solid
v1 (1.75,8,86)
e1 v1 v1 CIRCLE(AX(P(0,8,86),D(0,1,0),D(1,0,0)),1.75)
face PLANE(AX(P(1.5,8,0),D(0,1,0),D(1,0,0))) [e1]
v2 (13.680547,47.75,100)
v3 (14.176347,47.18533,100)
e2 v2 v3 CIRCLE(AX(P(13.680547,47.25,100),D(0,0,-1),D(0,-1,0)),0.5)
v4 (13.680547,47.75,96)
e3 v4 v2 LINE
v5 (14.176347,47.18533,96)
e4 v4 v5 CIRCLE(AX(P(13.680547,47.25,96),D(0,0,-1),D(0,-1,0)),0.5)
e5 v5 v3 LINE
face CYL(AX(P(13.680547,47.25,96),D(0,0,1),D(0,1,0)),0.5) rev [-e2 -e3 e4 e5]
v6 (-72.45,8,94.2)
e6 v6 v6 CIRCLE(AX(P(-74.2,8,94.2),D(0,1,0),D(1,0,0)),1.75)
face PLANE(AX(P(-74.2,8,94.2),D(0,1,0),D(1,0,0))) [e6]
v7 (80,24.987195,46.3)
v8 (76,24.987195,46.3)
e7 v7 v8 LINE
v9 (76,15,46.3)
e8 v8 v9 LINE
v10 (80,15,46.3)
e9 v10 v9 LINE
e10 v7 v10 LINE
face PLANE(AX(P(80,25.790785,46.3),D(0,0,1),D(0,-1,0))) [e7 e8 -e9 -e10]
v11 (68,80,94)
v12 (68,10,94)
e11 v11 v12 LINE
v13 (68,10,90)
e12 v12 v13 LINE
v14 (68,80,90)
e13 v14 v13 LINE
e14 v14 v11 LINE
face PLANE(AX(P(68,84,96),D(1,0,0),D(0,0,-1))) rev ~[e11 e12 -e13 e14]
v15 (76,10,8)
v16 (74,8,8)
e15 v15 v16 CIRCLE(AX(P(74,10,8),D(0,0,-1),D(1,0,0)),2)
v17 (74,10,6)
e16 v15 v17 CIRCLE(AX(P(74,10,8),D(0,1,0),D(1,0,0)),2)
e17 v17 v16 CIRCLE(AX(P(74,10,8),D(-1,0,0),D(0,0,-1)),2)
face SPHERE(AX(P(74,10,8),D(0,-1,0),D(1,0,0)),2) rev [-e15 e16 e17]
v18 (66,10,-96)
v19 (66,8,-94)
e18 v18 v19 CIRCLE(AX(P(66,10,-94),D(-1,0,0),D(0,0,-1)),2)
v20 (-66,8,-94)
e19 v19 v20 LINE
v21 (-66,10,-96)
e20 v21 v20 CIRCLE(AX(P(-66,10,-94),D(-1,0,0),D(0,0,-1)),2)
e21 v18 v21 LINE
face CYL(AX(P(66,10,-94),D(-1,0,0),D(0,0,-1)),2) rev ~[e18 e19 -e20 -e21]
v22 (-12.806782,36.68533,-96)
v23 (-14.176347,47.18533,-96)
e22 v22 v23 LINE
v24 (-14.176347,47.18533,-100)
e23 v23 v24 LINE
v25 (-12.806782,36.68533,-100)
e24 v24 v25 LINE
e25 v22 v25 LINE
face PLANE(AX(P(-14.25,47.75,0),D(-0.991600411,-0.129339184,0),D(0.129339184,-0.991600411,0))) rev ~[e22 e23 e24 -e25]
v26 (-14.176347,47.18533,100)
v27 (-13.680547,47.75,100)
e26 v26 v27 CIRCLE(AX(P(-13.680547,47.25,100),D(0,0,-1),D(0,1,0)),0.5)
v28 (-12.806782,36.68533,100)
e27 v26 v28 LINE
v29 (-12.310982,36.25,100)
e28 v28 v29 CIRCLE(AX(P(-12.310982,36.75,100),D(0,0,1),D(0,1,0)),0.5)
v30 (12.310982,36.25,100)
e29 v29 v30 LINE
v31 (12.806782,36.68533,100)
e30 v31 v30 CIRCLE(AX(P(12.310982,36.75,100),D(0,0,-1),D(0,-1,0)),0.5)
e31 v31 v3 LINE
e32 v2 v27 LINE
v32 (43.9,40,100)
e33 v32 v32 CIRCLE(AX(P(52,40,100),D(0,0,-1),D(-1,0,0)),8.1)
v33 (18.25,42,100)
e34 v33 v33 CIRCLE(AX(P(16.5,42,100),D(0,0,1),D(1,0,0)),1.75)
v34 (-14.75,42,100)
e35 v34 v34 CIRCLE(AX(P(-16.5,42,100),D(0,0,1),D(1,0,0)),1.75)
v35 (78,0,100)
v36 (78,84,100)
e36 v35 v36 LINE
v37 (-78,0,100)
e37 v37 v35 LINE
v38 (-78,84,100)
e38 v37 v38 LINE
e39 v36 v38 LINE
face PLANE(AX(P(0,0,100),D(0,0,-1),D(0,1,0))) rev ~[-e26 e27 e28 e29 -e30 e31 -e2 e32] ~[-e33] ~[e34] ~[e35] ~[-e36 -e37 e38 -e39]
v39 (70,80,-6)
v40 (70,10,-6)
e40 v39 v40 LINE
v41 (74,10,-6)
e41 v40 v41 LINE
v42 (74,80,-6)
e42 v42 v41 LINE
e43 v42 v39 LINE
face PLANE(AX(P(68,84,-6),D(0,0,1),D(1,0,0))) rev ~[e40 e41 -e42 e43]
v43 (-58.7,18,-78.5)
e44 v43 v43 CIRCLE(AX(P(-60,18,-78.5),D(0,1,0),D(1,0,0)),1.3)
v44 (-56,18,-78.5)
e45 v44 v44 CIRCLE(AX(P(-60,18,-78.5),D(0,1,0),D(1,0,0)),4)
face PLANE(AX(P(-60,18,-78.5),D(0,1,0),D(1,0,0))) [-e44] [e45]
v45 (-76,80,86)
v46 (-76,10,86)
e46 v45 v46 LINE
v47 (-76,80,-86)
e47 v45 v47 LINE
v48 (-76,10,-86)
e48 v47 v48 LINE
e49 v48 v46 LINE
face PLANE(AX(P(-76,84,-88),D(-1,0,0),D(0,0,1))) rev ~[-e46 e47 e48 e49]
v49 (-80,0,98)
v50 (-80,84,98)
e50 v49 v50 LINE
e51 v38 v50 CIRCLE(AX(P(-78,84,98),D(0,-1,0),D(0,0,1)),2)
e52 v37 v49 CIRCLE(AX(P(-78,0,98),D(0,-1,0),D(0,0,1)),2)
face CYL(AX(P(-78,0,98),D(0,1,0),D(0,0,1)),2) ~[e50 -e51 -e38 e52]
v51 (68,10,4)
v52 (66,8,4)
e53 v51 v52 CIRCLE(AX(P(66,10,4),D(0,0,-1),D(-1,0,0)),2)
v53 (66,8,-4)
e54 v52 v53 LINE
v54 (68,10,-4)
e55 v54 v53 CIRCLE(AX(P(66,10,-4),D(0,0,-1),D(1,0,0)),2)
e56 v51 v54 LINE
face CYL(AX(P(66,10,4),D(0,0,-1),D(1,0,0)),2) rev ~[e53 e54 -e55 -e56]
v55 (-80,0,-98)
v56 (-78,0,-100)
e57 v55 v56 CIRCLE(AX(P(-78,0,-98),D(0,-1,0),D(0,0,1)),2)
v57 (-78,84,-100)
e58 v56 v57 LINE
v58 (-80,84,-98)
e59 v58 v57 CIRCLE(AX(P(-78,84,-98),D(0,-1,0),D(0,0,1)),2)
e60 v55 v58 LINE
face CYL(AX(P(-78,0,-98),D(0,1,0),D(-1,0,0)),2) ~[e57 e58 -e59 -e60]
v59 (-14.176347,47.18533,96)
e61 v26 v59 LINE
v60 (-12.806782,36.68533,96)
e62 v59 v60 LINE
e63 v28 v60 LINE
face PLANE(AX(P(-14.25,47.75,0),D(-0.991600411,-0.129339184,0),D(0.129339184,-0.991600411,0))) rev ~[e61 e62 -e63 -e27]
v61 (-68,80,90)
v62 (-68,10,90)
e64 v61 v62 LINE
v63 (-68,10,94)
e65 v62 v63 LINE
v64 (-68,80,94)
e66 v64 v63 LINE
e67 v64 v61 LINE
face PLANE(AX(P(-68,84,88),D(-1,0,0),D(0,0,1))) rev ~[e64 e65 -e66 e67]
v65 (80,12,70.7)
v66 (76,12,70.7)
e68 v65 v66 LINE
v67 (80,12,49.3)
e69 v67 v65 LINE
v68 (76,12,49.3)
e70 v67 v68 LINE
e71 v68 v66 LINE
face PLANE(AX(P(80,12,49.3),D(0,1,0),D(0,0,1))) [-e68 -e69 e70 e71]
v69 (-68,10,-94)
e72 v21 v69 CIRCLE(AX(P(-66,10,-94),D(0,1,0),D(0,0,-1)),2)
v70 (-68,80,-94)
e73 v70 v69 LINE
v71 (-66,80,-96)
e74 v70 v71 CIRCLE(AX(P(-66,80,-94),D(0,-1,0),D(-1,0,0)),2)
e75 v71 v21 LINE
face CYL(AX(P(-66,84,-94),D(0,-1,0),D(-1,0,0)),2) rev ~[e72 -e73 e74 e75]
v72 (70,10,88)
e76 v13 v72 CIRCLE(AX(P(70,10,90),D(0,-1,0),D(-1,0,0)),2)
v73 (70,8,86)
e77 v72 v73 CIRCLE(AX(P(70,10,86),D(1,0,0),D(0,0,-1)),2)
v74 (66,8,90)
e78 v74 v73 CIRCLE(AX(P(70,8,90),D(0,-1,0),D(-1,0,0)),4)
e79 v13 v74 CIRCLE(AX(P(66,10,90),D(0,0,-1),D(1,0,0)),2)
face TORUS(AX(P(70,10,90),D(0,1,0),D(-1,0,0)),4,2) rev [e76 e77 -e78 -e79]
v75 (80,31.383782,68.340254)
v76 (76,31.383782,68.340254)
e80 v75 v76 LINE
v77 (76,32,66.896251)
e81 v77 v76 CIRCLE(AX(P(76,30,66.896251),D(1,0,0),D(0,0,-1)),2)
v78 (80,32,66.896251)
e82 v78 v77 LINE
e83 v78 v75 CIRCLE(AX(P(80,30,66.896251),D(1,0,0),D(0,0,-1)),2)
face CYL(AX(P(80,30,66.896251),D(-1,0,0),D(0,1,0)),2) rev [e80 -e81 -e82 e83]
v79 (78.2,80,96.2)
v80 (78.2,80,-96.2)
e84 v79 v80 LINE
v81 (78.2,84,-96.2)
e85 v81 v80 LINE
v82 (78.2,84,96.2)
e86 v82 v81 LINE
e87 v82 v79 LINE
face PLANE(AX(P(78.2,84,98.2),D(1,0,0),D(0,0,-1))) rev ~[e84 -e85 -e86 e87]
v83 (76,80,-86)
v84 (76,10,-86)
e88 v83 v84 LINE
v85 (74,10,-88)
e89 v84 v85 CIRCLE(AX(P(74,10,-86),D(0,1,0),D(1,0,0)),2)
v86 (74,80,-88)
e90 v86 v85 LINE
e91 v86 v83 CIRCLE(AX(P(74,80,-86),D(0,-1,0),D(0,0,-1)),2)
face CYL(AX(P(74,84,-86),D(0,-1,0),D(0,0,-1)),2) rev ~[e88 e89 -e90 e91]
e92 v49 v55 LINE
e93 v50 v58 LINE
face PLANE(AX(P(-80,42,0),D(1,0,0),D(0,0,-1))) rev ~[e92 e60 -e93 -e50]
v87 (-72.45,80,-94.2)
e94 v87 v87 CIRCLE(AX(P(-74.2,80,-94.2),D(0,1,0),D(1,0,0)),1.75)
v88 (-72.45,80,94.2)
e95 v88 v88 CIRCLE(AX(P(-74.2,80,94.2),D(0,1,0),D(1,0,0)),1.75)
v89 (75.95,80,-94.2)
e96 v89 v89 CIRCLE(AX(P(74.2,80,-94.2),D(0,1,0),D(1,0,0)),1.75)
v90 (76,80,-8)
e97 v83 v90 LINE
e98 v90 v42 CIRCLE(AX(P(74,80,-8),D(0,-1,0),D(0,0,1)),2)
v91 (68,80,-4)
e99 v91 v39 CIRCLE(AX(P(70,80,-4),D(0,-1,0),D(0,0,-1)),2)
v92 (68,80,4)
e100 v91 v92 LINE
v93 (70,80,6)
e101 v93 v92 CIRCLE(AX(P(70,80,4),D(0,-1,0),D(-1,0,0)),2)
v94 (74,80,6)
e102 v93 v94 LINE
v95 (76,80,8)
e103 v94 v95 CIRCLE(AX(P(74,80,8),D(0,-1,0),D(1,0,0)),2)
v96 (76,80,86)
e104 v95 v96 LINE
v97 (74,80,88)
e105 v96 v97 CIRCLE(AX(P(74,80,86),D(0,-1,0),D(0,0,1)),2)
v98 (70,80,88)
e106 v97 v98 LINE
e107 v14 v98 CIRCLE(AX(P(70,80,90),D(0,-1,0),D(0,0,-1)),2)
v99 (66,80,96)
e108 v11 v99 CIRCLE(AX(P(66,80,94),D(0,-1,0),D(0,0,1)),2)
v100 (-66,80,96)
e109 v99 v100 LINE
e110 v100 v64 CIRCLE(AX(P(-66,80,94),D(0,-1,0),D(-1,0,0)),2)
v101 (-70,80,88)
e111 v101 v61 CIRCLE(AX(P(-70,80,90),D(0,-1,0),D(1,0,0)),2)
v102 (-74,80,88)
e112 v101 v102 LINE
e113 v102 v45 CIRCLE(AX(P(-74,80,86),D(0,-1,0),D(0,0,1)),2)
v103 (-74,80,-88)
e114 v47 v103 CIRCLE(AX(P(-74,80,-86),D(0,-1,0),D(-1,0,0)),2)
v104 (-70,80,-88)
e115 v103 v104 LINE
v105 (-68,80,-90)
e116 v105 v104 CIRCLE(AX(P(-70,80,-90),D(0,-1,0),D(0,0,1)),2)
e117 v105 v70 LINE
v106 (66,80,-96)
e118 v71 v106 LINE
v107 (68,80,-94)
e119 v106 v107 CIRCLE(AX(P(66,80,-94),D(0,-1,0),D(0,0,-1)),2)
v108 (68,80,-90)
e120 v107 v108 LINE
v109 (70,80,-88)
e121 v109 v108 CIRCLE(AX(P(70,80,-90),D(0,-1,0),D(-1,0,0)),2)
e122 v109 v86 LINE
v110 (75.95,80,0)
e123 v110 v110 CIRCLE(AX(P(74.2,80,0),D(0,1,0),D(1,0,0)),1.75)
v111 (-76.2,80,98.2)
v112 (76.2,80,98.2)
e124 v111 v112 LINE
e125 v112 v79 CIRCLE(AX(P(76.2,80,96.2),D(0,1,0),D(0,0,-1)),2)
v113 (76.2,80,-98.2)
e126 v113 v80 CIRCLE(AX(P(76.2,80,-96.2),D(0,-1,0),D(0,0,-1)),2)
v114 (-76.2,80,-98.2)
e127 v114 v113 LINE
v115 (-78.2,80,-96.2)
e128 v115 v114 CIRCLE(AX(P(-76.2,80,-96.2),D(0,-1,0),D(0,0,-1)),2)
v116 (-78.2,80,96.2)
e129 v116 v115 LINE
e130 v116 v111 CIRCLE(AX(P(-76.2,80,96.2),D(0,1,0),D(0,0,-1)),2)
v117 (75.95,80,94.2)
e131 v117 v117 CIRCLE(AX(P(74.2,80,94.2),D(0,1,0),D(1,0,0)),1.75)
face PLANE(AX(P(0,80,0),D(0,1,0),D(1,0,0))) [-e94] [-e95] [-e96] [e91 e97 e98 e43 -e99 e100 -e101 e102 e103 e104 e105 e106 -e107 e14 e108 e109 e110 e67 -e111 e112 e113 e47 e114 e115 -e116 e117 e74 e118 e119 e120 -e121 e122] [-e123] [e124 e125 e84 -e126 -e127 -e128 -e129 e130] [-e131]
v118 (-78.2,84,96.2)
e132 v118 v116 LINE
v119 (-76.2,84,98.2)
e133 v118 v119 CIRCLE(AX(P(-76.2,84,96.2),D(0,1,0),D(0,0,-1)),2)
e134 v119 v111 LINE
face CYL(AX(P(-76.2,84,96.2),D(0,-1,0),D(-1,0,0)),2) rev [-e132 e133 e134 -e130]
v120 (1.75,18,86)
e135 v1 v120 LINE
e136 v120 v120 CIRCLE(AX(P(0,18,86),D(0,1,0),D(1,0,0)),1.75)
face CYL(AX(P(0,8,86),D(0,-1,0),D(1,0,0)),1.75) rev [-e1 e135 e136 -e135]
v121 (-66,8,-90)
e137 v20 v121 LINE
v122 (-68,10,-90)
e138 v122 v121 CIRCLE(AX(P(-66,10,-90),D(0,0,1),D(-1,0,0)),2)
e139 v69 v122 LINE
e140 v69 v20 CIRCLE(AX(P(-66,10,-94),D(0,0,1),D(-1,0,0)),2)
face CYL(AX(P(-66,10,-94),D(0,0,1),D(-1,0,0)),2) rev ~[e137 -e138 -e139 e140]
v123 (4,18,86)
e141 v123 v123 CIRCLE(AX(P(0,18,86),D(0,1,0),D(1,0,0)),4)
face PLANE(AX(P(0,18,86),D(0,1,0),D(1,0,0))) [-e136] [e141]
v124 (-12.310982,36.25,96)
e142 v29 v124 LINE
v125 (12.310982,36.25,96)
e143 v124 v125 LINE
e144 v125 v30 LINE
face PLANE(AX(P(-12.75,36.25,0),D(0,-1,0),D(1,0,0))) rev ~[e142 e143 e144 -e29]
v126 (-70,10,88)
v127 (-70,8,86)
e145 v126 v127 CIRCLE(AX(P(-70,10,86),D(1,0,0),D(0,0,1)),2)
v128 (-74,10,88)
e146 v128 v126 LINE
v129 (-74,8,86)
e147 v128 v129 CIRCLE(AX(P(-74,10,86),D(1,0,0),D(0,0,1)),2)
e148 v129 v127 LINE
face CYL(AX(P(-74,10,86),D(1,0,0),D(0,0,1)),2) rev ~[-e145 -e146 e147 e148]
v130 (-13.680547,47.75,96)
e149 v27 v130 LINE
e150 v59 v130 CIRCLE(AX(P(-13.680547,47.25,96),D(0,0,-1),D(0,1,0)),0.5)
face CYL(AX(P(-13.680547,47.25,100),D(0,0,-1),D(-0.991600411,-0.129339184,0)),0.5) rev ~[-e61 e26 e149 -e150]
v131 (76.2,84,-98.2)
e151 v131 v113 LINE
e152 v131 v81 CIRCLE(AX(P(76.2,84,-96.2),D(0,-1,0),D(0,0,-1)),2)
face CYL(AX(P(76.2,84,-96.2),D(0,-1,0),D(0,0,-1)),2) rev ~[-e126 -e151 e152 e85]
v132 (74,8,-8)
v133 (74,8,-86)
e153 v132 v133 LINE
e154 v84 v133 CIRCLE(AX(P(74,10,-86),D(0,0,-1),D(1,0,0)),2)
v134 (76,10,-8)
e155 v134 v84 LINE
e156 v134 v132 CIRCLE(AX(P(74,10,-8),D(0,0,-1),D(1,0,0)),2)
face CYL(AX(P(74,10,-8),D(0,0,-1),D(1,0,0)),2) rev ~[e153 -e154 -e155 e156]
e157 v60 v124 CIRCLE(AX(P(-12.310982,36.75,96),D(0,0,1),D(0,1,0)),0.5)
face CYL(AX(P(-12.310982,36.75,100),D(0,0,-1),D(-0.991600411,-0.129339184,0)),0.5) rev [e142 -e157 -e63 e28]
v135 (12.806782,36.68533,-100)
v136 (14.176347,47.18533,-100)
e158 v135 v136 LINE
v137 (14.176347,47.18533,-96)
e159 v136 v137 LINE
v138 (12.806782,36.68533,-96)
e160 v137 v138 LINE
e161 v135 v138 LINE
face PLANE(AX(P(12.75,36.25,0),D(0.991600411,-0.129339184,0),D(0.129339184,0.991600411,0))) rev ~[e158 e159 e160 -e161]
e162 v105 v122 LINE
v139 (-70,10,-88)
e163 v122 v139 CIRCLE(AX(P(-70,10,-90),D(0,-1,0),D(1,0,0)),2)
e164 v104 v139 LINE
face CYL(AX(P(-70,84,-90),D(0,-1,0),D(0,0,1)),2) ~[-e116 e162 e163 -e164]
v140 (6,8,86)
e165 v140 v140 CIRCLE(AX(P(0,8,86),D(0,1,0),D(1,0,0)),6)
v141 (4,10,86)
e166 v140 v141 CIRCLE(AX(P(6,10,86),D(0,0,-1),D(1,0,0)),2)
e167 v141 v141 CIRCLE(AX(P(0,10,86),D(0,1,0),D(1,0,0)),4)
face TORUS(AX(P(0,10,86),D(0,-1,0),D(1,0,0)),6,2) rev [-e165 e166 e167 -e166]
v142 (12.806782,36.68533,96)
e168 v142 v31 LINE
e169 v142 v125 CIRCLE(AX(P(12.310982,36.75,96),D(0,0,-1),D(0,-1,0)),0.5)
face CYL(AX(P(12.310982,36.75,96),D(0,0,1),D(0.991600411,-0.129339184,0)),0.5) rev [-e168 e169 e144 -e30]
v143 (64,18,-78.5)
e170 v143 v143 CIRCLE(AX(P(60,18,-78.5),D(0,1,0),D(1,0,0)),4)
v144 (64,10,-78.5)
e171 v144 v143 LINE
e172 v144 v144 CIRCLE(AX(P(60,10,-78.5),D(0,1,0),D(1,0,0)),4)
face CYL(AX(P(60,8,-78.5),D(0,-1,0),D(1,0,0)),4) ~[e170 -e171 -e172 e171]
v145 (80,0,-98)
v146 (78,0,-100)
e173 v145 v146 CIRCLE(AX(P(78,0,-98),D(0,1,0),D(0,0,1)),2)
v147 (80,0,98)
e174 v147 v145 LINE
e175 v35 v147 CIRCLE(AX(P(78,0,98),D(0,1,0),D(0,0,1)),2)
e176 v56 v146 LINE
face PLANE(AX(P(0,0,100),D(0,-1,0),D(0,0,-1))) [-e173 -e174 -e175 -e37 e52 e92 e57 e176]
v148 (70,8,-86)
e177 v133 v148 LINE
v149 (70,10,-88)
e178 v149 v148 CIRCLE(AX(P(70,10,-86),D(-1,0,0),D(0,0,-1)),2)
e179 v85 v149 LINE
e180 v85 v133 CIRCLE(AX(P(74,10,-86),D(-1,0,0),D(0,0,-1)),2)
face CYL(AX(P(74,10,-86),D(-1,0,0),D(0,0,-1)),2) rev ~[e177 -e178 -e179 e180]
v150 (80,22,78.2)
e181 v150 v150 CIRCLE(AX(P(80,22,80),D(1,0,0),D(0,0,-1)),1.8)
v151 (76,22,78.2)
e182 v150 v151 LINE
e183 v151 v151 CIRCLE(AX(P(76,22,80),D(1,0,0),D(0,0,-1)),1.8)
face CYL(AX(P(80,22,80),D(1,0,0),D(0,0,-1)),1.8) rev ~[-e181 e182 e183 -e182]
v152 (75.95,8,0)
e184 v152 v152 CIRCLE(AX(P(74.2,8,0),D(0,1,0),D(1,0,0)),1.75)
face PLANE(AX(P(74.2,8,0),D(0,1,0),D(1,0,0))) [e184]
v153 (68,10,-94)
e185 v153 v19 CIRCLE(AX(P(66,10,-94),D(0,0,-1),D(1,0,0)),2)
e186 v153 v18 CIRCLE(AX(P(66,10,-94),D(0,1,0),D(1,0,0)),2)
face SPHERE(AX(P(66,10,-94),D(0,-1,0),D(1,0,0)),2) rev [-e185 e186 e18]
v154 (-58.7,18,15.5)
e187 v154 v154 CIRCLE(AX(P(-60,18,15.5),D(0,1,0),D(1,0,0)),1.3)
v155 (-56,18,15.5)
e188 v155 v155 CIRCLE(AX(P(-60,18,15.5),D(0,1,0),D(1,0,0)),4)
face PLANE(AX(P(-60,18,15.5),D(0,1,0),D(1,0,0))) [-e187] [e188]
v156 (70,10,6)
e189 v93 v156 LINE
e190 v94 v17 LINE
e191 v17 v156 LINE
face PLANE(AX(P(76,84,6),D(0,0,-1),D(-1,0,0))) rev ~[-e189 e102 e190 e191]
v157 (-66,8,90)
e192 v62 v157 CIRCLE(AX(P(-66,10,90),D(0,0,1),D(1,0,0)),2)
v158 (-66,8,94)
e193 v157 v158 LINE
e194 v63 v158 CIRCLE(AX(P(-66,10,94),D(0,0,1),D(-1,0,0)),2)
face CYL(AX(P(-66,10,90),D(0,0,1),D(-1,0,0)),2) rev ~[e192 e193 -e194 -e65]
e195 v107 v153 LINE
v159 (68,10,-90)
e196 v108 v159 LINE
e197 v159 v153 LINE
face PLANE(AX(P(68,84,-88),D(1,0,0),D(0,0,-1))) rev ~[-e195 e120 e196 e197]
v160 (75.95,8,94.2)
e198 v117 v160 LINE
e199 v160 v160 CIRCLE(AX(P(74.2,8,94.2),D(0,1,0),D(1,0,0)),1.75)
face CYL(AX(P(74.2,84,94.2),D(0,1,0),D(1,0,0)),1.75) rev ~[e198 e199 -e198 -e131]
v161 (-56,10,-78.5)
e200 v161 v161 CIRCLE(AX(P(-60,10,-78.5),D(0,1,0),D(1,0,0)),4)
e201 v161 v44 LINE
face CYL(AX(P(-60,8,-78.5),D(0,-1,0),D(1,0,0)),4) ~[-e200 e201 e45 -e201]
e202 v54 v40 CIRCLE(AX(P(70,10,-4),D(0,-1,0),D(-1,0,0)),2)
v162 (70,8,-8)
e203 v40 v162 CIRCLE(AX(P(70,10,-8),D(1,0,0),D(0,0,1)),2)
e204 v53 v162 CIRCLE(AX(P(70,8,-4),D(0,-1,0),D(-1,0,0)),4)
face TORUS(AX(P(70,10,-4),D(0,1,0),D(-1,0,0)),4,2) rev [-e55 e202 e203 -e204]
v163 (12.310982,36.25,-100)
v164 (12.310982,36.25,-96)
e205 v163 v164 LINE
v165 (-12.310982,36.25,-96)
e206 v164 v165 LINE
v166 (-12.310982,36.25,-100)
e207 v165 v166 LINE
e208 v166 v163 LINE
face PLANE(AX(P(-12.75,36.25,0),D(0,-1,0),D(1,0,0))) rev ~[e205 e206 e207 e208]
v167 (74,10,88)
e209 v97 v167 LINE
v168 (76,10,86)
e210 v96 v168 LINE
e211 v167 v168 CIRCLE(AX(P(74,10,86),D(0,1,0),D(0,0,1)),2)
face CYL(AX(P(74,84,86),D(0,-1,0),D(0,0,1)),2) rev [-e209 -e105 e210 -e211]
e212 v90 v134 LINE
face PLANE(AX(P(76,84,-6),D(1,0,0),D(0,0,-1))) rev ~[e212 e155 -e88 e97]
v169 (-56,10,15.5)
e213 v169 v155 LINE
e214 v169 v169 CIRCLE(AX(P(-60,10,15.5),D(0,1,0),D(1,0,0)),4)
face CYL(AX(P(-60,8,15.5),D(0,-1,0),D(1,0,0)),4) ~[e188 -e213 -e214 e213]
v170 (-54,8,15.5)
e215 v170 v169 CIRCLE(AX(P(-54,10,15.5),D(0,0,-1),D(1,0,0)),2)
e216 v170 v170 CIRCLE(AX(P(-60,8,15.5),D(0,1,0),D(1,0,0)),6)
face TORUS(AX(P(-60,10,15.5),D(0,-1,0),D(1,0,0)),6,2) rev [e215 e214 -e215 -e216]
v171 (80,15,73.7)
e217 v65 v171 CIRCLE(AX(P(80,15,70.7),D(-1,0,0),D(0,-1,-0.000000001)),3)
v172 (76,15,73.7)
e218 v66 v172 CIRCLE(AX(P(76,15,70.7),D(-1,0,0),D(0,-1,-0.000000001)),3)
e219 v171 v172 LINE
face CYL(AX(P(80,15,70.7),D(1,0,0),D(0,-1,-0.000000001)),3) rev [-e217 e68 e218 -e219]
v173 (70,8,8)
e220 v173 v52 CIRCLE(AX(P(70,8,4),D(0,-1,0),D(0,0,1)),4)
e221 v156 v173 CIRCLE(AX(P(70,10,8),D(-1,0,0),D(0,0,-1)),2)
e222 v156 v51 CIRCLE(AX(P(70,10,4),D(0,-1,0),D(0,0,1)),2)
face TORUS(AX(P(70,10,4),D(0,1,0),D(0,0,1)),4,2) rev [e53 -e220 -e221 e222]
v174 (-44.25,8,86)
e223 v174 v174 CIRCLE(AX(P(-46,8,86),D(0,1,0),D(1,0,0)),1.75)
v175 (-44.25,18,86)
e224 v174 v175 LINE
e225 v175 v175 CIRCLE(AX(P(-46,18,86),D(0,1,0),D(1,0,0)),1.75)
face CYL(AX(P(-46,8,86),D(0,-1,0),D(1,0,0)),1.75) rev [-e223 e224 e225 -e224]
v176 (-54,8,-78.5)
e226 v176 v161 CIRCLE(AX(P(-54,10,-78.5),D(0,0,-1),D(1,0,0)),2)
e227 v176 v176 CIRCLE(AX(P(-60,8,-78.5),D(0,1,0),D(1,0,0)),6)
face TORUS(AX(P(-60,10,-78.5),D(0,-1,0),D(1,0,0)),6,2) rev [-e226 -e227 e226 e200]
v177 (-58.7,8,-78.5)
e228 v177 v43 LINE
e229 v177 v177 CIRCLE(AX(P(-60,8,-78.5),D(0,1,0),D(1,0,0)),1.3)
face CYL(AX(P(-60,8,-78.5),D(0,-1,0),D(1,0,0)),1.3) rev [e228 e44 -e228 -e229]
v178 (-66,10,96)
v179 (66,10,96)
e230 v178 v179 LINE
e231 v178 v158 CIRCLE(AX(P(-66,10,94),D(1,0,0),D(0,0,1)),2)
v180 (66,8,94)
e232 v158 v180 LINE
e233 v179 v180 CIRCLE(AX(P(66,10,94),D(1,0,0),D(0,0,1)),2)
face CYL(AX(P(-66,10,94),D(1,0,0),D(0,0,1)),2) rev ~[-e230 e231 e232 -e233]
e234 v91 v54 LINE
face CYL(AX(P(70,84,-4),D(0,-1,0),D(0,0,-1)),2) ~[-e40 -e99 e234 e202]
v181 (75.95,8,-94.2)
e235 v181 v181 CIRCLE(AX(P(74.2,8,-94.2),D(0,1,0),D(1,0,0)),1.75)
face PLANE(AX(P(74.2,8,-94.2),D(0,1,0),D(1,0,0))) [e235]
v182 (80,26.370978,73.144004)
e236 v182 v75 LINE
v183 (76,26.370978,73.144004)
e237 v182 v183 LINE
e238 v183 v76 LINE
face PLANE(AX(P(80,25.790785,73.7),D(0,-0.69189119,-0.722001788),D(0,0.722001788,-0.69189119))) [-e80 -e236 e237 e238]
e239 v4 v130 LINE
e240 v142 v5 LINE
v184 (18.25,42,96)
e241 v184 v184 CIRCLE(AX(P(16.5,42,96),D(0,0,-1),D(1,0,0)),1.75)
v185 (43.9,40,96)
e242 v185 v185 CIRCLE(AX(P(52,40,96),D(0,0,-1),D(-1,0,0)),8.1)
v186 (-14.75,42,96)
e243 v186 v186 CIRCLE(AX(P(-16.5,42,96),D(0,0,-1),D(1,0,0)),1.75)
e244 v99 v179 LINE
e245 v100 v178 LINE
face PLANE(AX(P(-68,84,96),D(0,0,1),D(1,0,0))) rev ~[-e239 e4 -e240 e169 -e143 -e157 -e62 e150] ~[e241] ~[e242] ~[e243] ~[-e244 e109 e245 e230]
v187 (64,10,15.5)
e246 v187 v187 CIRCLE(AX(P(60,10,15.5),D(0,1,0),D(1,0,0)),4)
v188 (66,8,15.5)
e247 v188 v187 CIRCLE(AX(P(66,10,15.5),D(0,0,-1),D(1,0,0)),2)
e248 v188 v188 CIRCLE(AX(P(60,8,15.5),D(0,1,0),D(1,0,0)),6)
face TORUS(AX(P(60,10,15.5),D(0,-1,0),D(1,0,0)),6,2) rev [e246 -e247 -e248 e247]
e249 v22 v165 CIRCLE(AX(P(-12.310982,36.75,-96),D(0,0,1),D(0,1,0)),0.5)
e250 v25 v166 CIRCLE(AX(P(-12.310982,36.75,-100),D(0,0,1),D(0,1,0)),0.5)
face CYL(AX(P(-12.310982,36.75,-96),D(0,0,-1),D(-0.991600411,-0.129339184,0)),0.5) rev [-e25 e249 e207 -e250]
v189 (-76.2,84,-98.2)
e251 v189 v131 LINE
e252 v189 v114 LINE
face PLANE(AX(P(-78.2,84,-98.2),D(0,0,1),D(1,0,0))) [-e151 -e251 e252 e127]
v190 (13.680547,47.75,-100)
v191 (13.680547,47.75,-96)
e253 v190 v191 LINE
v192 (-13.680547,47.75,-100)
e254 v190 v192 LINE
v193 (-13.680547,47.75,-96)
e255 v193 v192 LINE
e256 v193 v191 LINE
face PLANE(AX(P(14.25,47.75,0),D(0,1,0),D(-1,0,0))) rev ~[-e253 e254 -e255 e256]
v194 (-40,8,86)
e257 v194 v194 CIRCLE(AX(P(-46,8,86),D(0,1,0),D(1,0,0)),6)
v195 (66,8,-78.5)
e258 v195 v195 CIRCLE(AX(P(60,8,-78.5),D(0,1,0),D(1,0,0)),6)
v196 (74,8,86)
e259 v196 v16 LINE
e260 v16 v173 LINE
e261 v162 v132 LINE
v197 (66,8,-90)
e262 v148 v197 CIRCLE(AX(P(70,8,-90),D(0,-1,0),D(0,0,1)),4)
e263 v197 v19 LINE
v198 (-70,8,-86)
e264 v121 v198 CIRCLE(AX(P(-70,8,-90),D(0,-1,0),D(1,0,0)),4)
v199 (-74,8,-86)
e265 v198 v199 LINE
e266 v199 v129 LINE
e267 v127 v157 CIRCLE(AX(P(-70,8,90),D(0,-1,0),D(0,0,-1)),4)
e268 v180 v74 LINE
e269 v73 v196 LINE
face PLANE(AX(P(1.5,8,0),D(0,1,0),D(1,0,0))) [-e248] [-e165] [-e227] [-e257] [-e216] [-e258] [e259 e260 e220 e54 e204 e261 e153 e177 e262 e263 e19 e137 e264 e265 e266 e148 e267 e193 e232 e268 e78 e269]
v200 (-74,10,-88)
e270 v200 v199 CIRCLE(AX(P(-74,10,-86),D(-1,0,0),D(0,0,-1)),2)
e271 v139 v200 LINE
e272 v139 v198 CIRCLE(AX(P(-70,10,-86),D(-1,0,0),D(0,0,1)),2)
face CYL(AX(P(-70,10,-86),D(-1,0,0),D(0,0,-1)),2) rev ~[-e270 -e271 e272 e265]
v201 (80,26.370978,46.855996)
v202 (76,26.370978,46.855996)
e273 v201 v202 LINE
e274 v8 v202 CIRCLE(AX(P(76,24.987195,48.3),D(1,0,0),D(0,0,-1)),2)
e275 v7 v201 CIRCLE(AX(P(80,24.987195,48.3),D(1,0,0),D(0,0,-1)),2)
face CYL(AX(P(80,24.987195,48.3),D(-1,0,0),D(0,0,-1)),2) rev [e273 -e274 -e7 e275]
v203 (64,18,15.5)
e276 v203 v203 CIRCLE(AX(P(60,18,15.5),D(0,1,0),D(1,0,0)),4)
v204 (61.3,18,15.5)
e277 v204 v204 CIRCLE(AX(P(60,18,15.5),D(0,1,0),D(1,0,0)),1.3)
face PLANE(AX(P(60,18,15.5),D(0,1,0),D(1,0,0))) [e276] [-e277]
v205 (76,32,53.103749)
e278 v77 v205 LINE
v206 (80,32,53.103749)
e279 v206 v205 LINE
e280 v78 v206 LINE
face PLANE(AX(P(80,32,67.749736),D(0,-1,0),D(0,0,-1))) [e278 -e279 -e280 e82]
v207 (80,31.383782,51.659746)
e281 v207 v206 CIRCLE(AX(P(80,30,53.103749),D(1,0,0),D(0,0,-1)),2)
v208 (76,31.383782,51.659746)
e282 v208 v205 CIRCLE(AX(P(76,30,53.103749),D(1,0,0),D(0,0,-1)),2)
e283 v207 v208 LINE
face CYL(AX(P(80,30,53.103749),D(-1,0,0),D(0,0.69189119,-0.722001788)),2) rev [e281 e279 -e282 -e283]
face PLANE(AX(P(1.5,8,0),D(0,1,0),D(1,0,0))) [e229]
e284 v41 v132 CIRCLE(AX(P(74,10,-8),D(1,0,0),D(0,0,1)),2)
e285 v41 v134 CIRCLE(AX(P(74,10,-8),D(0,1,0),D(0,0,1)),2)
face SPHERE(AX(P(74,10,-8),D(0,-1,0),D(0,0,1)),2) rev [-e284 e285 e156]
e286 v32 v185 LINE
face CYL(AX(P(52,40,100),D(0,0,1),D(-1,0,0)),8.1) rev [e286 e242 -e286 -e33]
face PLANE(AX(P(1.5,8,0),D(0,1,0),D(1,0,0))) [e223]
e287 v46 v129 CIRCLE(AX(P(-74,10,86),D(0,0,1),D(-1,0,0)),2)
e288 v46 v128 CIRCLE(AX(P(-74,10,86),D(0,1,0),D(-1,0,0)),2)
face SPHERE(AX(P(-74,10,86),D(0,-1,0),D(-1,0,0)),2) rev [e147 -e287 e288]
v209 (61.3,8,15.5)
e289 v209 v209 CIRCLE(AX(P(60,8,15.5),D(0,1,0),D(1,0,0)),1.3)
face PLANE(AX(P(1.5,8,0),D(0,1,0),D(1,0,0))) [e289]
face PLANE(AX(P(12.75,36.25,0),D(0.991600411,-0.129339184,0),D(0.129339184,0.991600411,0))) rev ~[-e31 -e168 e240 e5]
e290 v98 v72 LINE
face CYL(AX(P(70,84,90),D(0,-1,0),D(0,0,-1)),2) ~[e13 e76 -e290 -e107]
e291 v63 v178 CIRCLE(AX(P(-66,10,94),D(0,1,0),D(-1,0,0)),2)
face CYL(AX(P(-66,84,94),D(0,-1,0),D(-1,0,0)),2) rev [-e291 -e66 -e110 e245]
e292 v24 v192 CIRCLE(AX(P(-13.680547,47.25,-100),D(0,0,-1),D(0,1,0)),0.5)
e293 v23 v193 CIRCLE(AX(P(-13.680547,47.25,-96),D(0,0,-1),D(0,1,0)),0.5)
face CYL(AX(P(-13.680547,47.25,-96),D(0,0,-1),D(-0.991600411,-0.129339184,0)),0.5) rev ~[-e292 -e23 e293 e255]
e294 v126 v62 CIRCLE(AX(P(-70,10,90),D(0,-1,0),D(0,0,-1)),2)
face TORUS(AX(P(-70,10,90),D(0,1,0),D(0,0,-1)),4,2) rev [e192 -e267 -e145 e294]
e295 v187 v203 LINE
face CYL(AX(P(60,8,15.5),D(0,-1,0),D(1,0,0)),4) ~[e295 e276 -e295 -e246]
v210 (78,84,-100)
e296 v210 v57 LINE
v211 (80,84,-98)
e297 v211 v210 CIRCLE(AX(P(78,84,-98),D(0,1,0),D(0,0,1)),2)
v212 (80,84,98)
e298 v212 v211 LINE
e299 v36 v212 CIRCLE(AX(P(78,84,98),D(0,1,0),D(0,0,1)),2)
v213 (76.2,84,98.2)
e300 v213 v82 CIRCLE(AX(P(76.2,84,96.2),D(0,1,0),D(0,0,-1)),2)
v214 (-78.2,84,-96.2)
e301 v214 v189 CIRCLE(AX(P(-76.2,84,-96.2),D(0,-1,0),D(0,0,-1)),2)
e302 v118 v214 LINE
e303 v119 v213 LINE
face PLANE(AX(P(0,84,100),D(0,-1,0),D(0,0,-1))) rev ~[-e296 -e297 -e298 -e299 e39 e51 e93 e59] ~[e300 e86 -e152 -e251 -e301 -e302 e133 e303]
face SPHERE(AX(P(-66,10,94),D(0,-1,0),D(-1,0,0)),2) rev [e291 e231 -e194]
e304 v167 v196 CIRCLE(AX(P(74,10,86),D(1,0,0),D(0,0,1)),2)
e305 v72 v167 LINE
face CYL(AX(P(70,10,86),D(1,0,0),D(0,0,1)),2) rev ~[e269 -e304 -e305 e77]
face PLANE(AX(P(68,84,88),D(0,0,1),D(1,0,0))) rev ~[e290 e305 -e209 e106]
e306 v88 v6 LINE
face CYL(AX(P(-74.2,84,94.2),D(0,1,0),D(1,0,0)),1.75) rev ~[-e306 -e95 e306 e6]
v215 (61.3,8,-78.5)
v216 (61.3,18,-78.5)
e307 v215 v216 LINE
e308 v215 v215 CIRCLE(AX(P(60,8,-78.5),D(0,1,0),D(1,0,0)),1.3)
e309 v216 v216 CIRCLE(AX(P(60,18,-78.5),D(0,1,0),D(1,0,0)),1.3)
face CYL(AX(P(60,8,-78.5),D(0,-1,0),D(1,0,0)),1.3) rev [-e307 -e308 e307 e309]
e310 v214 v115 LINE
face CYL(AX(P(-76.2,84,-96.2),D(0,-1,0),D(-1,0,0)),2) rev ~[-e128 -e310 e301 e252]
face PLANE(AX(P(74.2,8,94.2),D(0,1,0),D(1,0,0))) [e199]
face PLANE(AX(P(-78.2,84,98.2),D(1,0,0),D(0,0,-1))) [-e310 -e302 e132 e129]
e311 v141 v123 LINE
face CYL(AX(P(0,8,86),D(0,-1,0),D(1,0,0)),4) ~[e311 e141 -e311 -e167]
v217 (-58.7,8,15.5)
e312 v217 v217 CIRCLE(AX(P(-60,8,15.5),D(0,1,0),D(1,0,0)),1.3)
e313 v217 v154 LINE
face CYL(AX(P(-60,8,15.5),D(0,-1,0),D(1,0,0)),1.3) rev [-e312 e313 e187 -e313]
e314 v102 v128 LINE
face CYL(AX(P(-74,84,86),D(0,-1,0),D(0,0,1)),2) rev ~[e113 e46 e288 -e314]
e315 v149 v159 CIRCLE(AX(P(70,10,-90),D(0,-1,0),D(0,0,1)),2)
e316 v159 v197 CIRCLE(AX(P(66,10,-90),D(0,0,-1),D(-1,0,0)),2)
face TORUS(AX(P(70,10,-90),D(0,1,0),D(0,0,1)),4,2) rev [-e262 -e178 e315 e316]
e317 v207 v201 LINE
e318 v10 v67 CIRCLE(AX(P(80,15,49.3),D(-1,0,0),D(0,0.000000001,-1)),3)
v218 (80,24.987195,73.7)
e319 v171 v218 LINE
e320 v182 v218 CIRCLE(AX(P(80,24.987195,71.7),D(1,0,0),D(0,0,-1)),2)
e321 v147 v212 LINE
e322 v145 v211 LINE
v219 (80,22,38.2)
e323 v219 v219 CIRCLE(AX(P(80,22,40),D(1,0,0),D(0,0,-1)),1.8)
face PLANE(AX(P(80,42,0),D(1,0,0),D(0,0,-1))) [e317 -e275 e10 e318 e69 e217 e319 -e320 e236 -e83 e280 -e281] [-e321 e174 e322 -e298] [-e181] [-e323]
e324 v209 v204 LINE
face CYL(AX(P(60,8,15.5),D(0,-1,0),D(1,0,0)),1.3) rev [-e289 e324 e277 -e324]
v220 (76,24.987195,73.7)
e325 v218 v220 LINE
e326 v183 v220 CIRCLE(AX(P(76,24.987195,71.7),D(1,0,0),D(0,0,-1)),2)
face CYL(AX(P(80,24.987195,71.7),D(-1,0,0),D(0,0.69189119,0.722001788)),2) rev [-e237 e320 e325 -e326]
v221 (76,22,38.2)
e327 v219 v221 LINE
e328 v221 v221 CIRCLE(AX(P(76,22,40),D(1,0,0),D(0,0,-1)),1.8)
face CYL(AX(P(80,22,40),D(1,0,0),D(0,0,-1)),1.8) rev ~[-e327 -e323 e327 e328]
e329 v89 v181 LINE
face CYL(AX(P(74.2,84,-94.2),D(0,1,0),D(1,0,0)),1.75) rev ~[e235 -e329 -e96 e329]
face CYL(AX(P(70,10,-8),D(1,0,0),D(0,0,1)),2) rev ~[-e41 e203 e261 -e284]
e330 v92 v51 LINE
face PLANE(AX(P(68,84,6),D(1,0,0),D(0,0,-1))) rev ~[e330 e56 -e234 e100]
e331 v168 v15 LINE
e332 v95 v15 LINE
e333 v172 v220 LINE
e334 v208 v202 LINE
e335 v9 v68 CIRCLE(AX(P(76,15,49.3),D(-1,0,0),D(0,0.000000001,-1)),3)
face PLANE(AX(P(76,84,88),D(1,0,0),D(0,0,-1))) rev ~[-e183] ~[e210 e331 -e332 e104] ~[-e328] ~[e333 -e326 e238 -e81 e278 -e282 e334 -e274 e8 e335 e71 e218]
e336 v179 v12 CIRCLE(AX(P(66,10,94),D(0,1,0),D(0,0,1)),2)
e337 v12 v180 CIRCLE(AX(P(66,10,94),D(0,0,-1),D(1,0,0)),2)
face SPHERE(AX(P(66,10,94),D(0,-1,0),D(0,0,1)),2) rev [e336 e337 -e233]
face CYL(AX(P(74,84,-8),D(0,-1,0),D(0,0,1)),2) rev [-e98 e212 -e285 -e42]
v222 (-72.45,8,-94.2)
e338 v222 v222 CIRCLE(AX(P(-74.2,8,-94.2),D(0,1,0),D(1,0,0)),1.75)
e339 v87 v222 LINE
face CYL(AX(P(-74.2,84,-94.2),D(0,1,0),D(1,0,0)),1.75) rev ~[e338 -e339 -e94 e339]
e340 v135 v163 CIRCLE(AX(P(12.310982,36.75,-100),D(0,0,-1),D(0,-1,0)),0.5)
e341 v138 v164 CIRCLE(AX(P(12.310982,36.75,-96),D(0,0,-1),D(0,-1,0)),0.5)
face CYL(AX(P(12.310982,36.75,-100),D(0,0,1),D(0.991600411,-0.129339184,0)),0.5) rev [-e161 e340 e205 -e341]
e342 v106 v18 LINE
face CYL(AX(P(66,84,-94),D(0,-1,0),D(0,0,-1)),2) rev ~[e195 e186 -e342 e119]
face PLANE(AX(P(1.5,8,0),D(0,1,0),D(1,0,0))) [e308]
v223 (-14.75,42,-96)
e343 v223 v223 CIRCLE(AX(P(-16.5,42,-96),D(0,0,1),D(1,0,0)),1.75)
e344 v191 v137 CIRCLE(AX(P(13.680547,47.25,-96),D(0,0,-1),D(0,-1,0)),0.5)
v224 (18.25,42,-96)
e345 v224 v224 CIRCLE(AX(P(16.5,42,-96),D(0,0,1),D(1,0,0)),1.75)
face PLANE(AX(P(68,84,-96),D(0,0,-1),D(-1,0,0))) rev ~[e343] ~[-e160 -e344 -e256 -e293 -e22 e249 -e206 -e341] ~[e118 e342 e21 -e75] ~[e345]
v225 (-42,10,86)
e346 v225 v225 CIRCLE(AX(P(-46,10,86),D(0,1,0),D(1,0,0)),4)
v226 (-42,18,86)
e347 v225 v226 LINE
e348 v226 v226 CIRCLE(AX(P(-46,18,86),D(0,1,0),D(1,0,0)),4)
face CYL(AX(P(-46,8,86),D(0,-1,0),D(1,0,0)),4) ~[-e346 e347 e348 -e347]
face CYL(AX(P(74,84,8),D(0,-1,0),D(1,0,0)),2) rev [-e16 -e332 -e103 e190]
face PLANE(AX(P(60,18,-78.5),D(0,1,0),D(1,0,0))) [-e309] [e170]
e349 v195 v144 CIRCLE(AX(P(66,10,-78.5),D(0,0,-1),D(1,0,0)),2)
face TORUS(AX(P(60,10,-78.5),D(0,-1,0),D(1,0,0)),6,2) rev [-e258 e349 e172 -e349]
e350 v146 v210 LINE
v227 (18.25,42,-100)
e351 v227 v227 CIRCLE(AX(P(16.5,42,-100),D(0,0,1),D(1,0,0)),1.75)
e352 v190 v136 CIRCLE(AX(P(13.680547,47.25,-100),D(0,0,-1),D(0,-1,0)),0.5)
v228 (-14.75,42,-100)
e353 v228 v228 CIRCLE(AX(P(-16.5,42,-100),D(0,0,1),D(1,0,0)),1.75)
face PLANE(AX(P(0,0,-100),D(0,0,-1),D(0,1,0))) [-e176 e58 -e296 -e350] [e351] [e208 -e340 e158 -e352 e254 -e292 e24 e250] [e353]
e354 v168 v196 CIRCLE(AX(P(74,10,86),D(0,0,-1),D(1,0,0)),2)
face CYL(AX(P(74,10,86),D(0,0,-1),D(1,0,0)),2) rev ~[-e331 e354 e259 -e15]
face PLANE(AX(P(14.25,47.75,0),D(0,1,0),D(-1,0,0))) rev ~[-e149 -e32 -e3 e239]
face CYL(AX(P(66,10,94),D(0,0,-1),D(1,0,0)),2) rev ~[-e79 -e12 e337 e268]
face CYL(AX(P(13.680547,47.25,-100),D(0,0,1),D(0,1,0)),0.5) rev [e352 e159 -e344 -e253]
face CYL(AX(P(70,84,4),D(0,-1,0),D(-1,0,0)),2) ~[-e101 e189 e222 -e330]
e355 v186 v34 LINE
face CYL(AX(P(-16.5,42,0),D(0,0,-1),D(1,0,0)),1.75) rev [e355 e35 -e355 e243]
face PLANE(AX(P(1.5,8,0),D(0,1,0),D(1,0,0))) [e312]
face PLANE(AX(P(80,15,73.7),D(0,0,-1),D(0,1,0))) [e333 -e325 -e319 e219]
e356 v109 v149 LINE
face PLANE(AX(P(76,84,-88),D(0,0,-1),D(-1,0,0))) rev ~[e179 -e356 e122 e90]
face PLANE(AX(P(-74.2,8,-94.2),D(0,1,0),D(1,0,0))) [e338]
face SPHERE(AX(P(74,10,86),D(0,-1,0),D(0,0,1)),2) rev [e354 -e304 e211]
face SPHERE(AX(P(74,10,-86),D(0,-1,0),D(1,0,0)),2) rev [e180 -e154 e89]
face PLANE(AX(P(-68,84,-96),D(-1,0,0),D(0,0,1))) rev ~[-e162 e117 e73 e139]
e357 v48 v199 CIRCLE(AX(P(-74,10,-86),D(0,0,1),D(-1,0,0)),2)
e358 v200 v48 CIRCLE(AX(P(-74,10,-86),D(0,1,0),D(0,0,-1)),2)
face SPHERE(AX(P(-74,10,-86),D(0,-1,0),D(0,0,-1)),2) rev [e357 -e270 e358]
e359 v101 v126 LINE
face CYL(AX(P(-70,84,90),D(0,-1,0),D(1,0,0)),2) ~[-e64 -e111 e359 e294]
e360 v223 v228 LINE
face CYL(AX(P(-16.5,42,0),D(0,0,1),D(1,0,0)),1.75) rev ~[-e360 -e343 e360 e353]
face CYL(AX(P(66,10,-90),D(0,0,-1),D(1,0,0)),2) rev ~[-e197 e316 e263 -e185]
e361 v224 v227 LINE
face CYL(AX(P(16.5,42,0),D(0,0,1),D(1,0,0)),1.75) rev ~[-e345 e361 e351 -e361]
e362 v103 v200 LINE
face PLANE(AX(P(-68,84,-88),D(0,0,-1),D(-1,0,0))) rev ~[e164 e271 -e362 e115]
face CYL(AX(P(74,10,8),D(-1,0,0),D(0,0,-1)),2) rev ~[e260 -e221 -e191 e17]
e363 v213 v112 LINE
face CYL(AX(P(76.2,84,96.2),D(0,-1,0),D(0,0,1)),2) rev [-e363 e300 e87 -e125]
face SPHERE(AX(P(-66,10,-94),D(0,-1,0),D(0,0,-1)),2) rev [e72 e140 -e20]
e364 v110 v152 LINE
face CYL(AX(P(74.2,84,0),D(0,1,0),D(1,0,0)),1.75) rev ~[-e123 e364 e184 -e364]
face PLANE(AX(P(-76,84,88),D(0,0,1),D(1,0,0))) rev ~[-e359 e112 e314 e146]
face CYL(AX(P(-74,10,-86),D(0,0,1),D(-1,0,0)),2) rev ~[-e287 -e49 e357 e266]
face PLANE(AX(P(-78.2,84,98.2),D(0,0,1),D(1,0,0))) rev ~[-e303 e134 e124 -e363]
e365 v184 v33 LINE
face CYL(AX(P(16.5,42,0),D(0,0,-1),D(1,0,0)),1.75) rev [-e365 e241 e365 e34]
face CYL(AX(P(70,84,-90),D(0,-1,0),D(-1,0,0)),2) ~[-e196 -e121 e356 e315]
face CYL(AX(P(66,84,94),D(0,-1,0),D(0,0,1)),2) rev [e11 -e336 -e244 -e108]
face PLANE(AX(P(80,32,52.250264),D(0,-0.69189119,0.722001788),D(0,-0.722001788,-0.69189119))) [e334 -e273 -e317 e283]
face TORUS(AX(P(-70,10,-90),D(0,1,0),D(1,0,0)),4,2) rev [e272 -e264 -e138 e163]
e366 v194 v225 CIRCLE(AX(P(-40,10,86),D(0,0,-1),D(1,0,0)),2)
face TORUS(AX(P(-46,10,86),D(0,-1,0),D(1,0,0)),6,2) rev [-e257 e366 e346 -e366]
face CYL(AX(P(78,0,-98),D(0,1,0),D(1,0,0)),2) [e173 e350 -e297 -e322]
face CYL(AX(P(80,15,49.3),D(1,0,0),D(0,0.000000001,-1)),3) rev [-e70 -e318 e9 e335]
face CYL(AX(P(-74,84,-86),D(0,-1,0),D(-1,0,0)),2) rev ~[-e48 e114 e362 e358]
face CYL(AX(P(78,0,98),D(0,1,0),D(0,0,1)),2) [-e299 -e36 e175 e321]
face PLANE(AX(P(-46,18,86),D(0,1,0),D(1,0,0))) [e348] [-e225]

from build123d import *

# Parameters (mm, degrees)
ESBO_O1_W                = 200
ESBO_O1_H                = 84
RESSALTO_EXTRUS_O1_DEPTH = 80
ESBO_O4_R                = 1.75
CORTE_EXTRUS_O1_DEPTH    = 76
FILETE1_R                = 2
ESBO_O7_R                = 1.75
CORTE_EXTRUS_O2_DEPTH    = 100
FILETE3_R                = 0.5
ESBO_O8_R                = 8.1
CORTE_EXTRUS_O3_DEPTH    = 4
ESBO_O9_R                = 4
ESBO_O9_R_2              = 1.3
ESBO_O9_R_3              = 1.75
RESSALTO_EXTRUS_O2_DEPTH = 10
ESBO_O11_R               = 1.8
CORTE_EXTRUS_O4_DEPTH    = 4
FILETE4_R                = 2
FILETE5_R                = 2
FILETE7_R                = 2
ESBO_O17_W               = 156.4
ESBO_O17_H               = 196.4
CORTE_EXTRUS_O8_DEPTH    = 4
FILETE10_R               = 2


with BuildPart() as part:
    # Esboço1 → Ressalto-extrusão1 (new body, symmetric)
    with BuildSketch(Plane(origin=(0, 0, 0), x_dir=(0, 0, -1), z_dir=(1, 0, 0))):
        with Locations((0, 42)):
            Rectangle(ESBO_O1_W, ESBO_O1_H)
    extrude(amount=RESSALTO_EXTRUS_O1_DEPTH, both=True)

    # Esboço4 → Corte-extrusão1 (cut)
    with BuildSketch(Plane(origin=(0, 84, 0), x_dir=(1, 0, 0), z_dir=(0, 1, 0))):
        with Locations((-74.2, -94.2)):
            Circle(ESBO_O4_R)
        with Locations((-74.2, 94.2)):
            Circle(ESBO_O4_R)
        with Locations((74.2, -94.2)):
            Circle(ESBO_O4_R)
        with Locations((74.2, 94.2)):
            Circle(ESBO_O4_R)
        with Locations((74.2, 0)):
            Circle(ESBO_O4_R)
        Polygon((-68, -96), (68, -96), (68, -88), (76, -88), (76, -6), (68, -6), (68, 6), (76, 6), (76, 88), (68, 88), (68, 96), (-68, 96), (-68, 88), (-76, 88), (-76, -88), (-68, -88), align=None)
    extrude(amount=-CORTE_EXTRUS_O1_DEPTH, mode=Mode.SUBTRACT)

    # Filete1
    filete1_edges = [part.edges().sort_by_distance(p)[0] for p in [
        (80, 42, -100),
        (68, 46, 88),
        (-68, 46, 88),
        (-68, 46, -88),
        (68, 46, -88),
        (68, 46, -6),
        (68, 46, 6),
        (-80, 42, -100),
        (-80, 42, 100),
        (80, 42, 100),
    ]]
    fillet(filete1_edges, radius=FILETE1_R)

    # Esboço7 → Corte-extrusão2 (cut, symmetric)
    with BuildSketch(Plane.XY):
        with Locations((-16.5, 42)):
            Circle(ESBO_O7_R)
        with Locations((16.5, 42)):
            Circle(ESBO_O7_R)
        Polygon((-12.75, 36.25), (12.75, 36.25), (14.25, 47.75), (-14.25, 47.75), align=None)
    extrude(amount=CORTE_EXTRUS_O2_DEPTH, both=True, mode=Mode.SUBTRACT)

    # Filete3
    filete3_edges = [part.edges().sort_by_distance(p)[0] for p in [
        (14.25, 47.75, 98),
        (14.25, 47.75, -98),
        (12.75, 36.25, 98),
        (12.75, 36.25, -98),
        (-12.75, 36.25, 98),
        (-12.75, 36.25, -98),
        (-14.25, 47.75, 98),
        (-14.25, 47.75, -98),
    ]]
    fillet(filete3_edges, radius=FILETE3_R)

    # Esboço8 → Corte-extrusão3 (cut)
    with BuildSketch(Plane(origin=(0, 0, 100), x_dir=(-1, 0, 0), z_dir=(0, 0, -1))):
        with Locations((-52, 40)):
            Circle(ESBO_O8_R)
    extrude(amount=CORTE_EXTRUS_O3_DEPTH, mode=Mode.SUBTRACT)

    # Esboço9 → Ressalto-extrusão2 (add)
    with BuildSketch(Plane(origin=(0, 8, 0), x_dir=(1, 0, 0), z_dir=(0, 1, 0))):
        with Locations((-60, 78.5)):
            Circle(ESBO_O9_R)
        with Locations((-60, 78.5)):
            Circle(ESBO_O9_R_2, mode=Mode.SUBTRACT)
        with Locations((60, 78.5)):
            Circle(ESBO_O9_R)
        with Locations((60, 78.5)):
            Circle(ESBO_O9_R_2, mode=Mode.SUBTRACT)
        with Locations((60, -15.5)):
            Circle(ESBO_O9_R)
        with Locations((60, -15.5)):
            Circle(ESBO_O9_R_2, mode=Mode.SUBTRACT)
        with Locations((-60, -15.5)):
            Circle(ESBO_O9_R)
        with Locations((-60, -15.5)):
            Circle(ESBO_O9_R_2, mode=Mode.SUBTRACT)
        with Locations((-46, -86)):
            Circle(ESBO_O9_R)
        with Locations((-46, -86)):
            Circle(ESBO_O9_R_3, mode=Mode.SUBTRACT)
        with Locations((0, -86)):
            Circle(ESBO_O9_R)
        with Locations((0, -86)):
            Circle(ESBO_O9_R_3, mode=Mode.SUBTRACT)
    extrude(amount=RESSALTO_EXTRUS_O2_DEPTH)

    # Esboço11 → Corte-extrusão4 (cut)
    with BuildSketch(Plane(origin=(80, 0, 0), x_dir=(0, 0, -1), z_dir=(1, 0, 0))):
        with Locations((-80, 22)):
            Circle(ESBO_O11_R)
        with Locations((-40, 22)):
            Circle(ESBO_O11_R)
        with BuildLine():
            Line((-73.7, 15), (-73.7, 25.790784626))
            Line((-73.7, 25.790784626), (-67.749735767, 32))
            Line((-67.749735767, 32), (-52.250264233, 32))
            Line((-52.250264233, 32), (-46.3, 25.790784626))
            Line((-46.3, 25.790784626), (-46.3, 15))
            ThreePointArc((-46.3, 15), (-47.178679656, 12.878679656), (-49.3, 12))
            Line((-49.3, 12), (-70.7, 12))
            ThreePointArc((-70.7, 12), (-72.821320344, 12.878679656), (-73.7, 15))
        make_face()
    extrude(amount=-CORTE_EXTRUS_O4_DEPTH, mode=Mode.SUBTRACT)

    # Filete4
    filete4_edges = [part.edges().sort_by_distance(p)[0] for p in [
        (76, 46, 88),
        (68, 46, 96),
        (-68, 46, 96),
        (-76, 46, 88),
        (-76, 46, -88),
        (-68, 46, -96),
        (68, 46, -96),
        (76, 46, -88),
        (76, 46, -6),
        (76, 46, 6),
    ]]
    fillet(filete4_edges, radius=FILETE4_R)

    # Filete5
    filete5_edges = [part.edges().sort_by_distance(p)[0] for p in [
        (72, 8, -6),
        (72, 8, 88),
        (-68.585786438, 8, 88.585786438),
        (-68.585786438, 8, -88.585786438),
        (68.585786438, 8, -88.585786438),
        (68.585786438, 8, 5.414213562),
        (68.585786438, 8, -5.414213562),
        (68.585786438, 8, 88.585786438),
        (56, 8, -78.5),
        (56, 8, 15.5),
        (-64, 8, 15.5),
        (-4, 8, 86),
        (-50, 8, 86),
        (-64, 8, -78.5),
        (76, 8, -47),
        (68, 8, 92),
        (76, 8, 47),
        (72, 8, 6),
        (72, 8, -88),
        (0, 8, -96),
        (-68, 8, -92),
        (-76, 8, 0),
        (-72, 8, 88),
        (0, 8, 96),
        (75.414213562, 8, 87.414213562),
        (67.414213562, 8, 95.414213562),
        (-67.414213562, 8, 95.414213562),
        (-75.414213562, 8, 87.414213562),
        (-67.414213562, 8, -95.414213562),
        (-75.414213562, 8, -87.414213562),
        (75.414213562, 8, -87.414213562),
        (67.414213562, 8, -95.414213562),
        (75.414213562, 8, 6.585786438),
        (75.414213562, 8, -6.585786438),
        (-68, 8, 92),
        (-72, 8, -88),
        (68, 8, -92),
        (68, 8, 0),
    ]]
    fillet(filete5_edges, radius=FILETE5_R)

    # Filete7
    filete7_edges = [part.edges().sort_by_distance(p)[0] for p in [
        (78, 25.790784626, 73.7),
        (78, 32, 67.749735767),
        (78, 32, 52.250264233),
        (78, 25.790784626, 46.3),
    ]]
    fillet(filete7_edges, radius=FILETE7_R)

    # Esboço17 → Corte-extrusão8 (cut)
    with BuildSketch(Plane(origin=(0, 84, 0), x_dir=(1, 0, 0), z_dir=(0, 1, 0))):
        Rectangle(ESBO_O17_W, ESBO_O17_H)
    extrude(amount=-CORTE_EXTRUS_O8_DEPTH, mode=Mode.SUBTRACT)

    # Filete10
    filete10_edges = [part.edges().sort_by_distance(p)[0] for p in [
        (-78.2, 82, -98.2),
        (78.2, 82, -98.2),
        (78.2, 82, 98.2),
        (-78.2, 82, 98.2),
    ]]
    fillet(filete10_edges, radius=FILETE10_R)


solid = part.part
